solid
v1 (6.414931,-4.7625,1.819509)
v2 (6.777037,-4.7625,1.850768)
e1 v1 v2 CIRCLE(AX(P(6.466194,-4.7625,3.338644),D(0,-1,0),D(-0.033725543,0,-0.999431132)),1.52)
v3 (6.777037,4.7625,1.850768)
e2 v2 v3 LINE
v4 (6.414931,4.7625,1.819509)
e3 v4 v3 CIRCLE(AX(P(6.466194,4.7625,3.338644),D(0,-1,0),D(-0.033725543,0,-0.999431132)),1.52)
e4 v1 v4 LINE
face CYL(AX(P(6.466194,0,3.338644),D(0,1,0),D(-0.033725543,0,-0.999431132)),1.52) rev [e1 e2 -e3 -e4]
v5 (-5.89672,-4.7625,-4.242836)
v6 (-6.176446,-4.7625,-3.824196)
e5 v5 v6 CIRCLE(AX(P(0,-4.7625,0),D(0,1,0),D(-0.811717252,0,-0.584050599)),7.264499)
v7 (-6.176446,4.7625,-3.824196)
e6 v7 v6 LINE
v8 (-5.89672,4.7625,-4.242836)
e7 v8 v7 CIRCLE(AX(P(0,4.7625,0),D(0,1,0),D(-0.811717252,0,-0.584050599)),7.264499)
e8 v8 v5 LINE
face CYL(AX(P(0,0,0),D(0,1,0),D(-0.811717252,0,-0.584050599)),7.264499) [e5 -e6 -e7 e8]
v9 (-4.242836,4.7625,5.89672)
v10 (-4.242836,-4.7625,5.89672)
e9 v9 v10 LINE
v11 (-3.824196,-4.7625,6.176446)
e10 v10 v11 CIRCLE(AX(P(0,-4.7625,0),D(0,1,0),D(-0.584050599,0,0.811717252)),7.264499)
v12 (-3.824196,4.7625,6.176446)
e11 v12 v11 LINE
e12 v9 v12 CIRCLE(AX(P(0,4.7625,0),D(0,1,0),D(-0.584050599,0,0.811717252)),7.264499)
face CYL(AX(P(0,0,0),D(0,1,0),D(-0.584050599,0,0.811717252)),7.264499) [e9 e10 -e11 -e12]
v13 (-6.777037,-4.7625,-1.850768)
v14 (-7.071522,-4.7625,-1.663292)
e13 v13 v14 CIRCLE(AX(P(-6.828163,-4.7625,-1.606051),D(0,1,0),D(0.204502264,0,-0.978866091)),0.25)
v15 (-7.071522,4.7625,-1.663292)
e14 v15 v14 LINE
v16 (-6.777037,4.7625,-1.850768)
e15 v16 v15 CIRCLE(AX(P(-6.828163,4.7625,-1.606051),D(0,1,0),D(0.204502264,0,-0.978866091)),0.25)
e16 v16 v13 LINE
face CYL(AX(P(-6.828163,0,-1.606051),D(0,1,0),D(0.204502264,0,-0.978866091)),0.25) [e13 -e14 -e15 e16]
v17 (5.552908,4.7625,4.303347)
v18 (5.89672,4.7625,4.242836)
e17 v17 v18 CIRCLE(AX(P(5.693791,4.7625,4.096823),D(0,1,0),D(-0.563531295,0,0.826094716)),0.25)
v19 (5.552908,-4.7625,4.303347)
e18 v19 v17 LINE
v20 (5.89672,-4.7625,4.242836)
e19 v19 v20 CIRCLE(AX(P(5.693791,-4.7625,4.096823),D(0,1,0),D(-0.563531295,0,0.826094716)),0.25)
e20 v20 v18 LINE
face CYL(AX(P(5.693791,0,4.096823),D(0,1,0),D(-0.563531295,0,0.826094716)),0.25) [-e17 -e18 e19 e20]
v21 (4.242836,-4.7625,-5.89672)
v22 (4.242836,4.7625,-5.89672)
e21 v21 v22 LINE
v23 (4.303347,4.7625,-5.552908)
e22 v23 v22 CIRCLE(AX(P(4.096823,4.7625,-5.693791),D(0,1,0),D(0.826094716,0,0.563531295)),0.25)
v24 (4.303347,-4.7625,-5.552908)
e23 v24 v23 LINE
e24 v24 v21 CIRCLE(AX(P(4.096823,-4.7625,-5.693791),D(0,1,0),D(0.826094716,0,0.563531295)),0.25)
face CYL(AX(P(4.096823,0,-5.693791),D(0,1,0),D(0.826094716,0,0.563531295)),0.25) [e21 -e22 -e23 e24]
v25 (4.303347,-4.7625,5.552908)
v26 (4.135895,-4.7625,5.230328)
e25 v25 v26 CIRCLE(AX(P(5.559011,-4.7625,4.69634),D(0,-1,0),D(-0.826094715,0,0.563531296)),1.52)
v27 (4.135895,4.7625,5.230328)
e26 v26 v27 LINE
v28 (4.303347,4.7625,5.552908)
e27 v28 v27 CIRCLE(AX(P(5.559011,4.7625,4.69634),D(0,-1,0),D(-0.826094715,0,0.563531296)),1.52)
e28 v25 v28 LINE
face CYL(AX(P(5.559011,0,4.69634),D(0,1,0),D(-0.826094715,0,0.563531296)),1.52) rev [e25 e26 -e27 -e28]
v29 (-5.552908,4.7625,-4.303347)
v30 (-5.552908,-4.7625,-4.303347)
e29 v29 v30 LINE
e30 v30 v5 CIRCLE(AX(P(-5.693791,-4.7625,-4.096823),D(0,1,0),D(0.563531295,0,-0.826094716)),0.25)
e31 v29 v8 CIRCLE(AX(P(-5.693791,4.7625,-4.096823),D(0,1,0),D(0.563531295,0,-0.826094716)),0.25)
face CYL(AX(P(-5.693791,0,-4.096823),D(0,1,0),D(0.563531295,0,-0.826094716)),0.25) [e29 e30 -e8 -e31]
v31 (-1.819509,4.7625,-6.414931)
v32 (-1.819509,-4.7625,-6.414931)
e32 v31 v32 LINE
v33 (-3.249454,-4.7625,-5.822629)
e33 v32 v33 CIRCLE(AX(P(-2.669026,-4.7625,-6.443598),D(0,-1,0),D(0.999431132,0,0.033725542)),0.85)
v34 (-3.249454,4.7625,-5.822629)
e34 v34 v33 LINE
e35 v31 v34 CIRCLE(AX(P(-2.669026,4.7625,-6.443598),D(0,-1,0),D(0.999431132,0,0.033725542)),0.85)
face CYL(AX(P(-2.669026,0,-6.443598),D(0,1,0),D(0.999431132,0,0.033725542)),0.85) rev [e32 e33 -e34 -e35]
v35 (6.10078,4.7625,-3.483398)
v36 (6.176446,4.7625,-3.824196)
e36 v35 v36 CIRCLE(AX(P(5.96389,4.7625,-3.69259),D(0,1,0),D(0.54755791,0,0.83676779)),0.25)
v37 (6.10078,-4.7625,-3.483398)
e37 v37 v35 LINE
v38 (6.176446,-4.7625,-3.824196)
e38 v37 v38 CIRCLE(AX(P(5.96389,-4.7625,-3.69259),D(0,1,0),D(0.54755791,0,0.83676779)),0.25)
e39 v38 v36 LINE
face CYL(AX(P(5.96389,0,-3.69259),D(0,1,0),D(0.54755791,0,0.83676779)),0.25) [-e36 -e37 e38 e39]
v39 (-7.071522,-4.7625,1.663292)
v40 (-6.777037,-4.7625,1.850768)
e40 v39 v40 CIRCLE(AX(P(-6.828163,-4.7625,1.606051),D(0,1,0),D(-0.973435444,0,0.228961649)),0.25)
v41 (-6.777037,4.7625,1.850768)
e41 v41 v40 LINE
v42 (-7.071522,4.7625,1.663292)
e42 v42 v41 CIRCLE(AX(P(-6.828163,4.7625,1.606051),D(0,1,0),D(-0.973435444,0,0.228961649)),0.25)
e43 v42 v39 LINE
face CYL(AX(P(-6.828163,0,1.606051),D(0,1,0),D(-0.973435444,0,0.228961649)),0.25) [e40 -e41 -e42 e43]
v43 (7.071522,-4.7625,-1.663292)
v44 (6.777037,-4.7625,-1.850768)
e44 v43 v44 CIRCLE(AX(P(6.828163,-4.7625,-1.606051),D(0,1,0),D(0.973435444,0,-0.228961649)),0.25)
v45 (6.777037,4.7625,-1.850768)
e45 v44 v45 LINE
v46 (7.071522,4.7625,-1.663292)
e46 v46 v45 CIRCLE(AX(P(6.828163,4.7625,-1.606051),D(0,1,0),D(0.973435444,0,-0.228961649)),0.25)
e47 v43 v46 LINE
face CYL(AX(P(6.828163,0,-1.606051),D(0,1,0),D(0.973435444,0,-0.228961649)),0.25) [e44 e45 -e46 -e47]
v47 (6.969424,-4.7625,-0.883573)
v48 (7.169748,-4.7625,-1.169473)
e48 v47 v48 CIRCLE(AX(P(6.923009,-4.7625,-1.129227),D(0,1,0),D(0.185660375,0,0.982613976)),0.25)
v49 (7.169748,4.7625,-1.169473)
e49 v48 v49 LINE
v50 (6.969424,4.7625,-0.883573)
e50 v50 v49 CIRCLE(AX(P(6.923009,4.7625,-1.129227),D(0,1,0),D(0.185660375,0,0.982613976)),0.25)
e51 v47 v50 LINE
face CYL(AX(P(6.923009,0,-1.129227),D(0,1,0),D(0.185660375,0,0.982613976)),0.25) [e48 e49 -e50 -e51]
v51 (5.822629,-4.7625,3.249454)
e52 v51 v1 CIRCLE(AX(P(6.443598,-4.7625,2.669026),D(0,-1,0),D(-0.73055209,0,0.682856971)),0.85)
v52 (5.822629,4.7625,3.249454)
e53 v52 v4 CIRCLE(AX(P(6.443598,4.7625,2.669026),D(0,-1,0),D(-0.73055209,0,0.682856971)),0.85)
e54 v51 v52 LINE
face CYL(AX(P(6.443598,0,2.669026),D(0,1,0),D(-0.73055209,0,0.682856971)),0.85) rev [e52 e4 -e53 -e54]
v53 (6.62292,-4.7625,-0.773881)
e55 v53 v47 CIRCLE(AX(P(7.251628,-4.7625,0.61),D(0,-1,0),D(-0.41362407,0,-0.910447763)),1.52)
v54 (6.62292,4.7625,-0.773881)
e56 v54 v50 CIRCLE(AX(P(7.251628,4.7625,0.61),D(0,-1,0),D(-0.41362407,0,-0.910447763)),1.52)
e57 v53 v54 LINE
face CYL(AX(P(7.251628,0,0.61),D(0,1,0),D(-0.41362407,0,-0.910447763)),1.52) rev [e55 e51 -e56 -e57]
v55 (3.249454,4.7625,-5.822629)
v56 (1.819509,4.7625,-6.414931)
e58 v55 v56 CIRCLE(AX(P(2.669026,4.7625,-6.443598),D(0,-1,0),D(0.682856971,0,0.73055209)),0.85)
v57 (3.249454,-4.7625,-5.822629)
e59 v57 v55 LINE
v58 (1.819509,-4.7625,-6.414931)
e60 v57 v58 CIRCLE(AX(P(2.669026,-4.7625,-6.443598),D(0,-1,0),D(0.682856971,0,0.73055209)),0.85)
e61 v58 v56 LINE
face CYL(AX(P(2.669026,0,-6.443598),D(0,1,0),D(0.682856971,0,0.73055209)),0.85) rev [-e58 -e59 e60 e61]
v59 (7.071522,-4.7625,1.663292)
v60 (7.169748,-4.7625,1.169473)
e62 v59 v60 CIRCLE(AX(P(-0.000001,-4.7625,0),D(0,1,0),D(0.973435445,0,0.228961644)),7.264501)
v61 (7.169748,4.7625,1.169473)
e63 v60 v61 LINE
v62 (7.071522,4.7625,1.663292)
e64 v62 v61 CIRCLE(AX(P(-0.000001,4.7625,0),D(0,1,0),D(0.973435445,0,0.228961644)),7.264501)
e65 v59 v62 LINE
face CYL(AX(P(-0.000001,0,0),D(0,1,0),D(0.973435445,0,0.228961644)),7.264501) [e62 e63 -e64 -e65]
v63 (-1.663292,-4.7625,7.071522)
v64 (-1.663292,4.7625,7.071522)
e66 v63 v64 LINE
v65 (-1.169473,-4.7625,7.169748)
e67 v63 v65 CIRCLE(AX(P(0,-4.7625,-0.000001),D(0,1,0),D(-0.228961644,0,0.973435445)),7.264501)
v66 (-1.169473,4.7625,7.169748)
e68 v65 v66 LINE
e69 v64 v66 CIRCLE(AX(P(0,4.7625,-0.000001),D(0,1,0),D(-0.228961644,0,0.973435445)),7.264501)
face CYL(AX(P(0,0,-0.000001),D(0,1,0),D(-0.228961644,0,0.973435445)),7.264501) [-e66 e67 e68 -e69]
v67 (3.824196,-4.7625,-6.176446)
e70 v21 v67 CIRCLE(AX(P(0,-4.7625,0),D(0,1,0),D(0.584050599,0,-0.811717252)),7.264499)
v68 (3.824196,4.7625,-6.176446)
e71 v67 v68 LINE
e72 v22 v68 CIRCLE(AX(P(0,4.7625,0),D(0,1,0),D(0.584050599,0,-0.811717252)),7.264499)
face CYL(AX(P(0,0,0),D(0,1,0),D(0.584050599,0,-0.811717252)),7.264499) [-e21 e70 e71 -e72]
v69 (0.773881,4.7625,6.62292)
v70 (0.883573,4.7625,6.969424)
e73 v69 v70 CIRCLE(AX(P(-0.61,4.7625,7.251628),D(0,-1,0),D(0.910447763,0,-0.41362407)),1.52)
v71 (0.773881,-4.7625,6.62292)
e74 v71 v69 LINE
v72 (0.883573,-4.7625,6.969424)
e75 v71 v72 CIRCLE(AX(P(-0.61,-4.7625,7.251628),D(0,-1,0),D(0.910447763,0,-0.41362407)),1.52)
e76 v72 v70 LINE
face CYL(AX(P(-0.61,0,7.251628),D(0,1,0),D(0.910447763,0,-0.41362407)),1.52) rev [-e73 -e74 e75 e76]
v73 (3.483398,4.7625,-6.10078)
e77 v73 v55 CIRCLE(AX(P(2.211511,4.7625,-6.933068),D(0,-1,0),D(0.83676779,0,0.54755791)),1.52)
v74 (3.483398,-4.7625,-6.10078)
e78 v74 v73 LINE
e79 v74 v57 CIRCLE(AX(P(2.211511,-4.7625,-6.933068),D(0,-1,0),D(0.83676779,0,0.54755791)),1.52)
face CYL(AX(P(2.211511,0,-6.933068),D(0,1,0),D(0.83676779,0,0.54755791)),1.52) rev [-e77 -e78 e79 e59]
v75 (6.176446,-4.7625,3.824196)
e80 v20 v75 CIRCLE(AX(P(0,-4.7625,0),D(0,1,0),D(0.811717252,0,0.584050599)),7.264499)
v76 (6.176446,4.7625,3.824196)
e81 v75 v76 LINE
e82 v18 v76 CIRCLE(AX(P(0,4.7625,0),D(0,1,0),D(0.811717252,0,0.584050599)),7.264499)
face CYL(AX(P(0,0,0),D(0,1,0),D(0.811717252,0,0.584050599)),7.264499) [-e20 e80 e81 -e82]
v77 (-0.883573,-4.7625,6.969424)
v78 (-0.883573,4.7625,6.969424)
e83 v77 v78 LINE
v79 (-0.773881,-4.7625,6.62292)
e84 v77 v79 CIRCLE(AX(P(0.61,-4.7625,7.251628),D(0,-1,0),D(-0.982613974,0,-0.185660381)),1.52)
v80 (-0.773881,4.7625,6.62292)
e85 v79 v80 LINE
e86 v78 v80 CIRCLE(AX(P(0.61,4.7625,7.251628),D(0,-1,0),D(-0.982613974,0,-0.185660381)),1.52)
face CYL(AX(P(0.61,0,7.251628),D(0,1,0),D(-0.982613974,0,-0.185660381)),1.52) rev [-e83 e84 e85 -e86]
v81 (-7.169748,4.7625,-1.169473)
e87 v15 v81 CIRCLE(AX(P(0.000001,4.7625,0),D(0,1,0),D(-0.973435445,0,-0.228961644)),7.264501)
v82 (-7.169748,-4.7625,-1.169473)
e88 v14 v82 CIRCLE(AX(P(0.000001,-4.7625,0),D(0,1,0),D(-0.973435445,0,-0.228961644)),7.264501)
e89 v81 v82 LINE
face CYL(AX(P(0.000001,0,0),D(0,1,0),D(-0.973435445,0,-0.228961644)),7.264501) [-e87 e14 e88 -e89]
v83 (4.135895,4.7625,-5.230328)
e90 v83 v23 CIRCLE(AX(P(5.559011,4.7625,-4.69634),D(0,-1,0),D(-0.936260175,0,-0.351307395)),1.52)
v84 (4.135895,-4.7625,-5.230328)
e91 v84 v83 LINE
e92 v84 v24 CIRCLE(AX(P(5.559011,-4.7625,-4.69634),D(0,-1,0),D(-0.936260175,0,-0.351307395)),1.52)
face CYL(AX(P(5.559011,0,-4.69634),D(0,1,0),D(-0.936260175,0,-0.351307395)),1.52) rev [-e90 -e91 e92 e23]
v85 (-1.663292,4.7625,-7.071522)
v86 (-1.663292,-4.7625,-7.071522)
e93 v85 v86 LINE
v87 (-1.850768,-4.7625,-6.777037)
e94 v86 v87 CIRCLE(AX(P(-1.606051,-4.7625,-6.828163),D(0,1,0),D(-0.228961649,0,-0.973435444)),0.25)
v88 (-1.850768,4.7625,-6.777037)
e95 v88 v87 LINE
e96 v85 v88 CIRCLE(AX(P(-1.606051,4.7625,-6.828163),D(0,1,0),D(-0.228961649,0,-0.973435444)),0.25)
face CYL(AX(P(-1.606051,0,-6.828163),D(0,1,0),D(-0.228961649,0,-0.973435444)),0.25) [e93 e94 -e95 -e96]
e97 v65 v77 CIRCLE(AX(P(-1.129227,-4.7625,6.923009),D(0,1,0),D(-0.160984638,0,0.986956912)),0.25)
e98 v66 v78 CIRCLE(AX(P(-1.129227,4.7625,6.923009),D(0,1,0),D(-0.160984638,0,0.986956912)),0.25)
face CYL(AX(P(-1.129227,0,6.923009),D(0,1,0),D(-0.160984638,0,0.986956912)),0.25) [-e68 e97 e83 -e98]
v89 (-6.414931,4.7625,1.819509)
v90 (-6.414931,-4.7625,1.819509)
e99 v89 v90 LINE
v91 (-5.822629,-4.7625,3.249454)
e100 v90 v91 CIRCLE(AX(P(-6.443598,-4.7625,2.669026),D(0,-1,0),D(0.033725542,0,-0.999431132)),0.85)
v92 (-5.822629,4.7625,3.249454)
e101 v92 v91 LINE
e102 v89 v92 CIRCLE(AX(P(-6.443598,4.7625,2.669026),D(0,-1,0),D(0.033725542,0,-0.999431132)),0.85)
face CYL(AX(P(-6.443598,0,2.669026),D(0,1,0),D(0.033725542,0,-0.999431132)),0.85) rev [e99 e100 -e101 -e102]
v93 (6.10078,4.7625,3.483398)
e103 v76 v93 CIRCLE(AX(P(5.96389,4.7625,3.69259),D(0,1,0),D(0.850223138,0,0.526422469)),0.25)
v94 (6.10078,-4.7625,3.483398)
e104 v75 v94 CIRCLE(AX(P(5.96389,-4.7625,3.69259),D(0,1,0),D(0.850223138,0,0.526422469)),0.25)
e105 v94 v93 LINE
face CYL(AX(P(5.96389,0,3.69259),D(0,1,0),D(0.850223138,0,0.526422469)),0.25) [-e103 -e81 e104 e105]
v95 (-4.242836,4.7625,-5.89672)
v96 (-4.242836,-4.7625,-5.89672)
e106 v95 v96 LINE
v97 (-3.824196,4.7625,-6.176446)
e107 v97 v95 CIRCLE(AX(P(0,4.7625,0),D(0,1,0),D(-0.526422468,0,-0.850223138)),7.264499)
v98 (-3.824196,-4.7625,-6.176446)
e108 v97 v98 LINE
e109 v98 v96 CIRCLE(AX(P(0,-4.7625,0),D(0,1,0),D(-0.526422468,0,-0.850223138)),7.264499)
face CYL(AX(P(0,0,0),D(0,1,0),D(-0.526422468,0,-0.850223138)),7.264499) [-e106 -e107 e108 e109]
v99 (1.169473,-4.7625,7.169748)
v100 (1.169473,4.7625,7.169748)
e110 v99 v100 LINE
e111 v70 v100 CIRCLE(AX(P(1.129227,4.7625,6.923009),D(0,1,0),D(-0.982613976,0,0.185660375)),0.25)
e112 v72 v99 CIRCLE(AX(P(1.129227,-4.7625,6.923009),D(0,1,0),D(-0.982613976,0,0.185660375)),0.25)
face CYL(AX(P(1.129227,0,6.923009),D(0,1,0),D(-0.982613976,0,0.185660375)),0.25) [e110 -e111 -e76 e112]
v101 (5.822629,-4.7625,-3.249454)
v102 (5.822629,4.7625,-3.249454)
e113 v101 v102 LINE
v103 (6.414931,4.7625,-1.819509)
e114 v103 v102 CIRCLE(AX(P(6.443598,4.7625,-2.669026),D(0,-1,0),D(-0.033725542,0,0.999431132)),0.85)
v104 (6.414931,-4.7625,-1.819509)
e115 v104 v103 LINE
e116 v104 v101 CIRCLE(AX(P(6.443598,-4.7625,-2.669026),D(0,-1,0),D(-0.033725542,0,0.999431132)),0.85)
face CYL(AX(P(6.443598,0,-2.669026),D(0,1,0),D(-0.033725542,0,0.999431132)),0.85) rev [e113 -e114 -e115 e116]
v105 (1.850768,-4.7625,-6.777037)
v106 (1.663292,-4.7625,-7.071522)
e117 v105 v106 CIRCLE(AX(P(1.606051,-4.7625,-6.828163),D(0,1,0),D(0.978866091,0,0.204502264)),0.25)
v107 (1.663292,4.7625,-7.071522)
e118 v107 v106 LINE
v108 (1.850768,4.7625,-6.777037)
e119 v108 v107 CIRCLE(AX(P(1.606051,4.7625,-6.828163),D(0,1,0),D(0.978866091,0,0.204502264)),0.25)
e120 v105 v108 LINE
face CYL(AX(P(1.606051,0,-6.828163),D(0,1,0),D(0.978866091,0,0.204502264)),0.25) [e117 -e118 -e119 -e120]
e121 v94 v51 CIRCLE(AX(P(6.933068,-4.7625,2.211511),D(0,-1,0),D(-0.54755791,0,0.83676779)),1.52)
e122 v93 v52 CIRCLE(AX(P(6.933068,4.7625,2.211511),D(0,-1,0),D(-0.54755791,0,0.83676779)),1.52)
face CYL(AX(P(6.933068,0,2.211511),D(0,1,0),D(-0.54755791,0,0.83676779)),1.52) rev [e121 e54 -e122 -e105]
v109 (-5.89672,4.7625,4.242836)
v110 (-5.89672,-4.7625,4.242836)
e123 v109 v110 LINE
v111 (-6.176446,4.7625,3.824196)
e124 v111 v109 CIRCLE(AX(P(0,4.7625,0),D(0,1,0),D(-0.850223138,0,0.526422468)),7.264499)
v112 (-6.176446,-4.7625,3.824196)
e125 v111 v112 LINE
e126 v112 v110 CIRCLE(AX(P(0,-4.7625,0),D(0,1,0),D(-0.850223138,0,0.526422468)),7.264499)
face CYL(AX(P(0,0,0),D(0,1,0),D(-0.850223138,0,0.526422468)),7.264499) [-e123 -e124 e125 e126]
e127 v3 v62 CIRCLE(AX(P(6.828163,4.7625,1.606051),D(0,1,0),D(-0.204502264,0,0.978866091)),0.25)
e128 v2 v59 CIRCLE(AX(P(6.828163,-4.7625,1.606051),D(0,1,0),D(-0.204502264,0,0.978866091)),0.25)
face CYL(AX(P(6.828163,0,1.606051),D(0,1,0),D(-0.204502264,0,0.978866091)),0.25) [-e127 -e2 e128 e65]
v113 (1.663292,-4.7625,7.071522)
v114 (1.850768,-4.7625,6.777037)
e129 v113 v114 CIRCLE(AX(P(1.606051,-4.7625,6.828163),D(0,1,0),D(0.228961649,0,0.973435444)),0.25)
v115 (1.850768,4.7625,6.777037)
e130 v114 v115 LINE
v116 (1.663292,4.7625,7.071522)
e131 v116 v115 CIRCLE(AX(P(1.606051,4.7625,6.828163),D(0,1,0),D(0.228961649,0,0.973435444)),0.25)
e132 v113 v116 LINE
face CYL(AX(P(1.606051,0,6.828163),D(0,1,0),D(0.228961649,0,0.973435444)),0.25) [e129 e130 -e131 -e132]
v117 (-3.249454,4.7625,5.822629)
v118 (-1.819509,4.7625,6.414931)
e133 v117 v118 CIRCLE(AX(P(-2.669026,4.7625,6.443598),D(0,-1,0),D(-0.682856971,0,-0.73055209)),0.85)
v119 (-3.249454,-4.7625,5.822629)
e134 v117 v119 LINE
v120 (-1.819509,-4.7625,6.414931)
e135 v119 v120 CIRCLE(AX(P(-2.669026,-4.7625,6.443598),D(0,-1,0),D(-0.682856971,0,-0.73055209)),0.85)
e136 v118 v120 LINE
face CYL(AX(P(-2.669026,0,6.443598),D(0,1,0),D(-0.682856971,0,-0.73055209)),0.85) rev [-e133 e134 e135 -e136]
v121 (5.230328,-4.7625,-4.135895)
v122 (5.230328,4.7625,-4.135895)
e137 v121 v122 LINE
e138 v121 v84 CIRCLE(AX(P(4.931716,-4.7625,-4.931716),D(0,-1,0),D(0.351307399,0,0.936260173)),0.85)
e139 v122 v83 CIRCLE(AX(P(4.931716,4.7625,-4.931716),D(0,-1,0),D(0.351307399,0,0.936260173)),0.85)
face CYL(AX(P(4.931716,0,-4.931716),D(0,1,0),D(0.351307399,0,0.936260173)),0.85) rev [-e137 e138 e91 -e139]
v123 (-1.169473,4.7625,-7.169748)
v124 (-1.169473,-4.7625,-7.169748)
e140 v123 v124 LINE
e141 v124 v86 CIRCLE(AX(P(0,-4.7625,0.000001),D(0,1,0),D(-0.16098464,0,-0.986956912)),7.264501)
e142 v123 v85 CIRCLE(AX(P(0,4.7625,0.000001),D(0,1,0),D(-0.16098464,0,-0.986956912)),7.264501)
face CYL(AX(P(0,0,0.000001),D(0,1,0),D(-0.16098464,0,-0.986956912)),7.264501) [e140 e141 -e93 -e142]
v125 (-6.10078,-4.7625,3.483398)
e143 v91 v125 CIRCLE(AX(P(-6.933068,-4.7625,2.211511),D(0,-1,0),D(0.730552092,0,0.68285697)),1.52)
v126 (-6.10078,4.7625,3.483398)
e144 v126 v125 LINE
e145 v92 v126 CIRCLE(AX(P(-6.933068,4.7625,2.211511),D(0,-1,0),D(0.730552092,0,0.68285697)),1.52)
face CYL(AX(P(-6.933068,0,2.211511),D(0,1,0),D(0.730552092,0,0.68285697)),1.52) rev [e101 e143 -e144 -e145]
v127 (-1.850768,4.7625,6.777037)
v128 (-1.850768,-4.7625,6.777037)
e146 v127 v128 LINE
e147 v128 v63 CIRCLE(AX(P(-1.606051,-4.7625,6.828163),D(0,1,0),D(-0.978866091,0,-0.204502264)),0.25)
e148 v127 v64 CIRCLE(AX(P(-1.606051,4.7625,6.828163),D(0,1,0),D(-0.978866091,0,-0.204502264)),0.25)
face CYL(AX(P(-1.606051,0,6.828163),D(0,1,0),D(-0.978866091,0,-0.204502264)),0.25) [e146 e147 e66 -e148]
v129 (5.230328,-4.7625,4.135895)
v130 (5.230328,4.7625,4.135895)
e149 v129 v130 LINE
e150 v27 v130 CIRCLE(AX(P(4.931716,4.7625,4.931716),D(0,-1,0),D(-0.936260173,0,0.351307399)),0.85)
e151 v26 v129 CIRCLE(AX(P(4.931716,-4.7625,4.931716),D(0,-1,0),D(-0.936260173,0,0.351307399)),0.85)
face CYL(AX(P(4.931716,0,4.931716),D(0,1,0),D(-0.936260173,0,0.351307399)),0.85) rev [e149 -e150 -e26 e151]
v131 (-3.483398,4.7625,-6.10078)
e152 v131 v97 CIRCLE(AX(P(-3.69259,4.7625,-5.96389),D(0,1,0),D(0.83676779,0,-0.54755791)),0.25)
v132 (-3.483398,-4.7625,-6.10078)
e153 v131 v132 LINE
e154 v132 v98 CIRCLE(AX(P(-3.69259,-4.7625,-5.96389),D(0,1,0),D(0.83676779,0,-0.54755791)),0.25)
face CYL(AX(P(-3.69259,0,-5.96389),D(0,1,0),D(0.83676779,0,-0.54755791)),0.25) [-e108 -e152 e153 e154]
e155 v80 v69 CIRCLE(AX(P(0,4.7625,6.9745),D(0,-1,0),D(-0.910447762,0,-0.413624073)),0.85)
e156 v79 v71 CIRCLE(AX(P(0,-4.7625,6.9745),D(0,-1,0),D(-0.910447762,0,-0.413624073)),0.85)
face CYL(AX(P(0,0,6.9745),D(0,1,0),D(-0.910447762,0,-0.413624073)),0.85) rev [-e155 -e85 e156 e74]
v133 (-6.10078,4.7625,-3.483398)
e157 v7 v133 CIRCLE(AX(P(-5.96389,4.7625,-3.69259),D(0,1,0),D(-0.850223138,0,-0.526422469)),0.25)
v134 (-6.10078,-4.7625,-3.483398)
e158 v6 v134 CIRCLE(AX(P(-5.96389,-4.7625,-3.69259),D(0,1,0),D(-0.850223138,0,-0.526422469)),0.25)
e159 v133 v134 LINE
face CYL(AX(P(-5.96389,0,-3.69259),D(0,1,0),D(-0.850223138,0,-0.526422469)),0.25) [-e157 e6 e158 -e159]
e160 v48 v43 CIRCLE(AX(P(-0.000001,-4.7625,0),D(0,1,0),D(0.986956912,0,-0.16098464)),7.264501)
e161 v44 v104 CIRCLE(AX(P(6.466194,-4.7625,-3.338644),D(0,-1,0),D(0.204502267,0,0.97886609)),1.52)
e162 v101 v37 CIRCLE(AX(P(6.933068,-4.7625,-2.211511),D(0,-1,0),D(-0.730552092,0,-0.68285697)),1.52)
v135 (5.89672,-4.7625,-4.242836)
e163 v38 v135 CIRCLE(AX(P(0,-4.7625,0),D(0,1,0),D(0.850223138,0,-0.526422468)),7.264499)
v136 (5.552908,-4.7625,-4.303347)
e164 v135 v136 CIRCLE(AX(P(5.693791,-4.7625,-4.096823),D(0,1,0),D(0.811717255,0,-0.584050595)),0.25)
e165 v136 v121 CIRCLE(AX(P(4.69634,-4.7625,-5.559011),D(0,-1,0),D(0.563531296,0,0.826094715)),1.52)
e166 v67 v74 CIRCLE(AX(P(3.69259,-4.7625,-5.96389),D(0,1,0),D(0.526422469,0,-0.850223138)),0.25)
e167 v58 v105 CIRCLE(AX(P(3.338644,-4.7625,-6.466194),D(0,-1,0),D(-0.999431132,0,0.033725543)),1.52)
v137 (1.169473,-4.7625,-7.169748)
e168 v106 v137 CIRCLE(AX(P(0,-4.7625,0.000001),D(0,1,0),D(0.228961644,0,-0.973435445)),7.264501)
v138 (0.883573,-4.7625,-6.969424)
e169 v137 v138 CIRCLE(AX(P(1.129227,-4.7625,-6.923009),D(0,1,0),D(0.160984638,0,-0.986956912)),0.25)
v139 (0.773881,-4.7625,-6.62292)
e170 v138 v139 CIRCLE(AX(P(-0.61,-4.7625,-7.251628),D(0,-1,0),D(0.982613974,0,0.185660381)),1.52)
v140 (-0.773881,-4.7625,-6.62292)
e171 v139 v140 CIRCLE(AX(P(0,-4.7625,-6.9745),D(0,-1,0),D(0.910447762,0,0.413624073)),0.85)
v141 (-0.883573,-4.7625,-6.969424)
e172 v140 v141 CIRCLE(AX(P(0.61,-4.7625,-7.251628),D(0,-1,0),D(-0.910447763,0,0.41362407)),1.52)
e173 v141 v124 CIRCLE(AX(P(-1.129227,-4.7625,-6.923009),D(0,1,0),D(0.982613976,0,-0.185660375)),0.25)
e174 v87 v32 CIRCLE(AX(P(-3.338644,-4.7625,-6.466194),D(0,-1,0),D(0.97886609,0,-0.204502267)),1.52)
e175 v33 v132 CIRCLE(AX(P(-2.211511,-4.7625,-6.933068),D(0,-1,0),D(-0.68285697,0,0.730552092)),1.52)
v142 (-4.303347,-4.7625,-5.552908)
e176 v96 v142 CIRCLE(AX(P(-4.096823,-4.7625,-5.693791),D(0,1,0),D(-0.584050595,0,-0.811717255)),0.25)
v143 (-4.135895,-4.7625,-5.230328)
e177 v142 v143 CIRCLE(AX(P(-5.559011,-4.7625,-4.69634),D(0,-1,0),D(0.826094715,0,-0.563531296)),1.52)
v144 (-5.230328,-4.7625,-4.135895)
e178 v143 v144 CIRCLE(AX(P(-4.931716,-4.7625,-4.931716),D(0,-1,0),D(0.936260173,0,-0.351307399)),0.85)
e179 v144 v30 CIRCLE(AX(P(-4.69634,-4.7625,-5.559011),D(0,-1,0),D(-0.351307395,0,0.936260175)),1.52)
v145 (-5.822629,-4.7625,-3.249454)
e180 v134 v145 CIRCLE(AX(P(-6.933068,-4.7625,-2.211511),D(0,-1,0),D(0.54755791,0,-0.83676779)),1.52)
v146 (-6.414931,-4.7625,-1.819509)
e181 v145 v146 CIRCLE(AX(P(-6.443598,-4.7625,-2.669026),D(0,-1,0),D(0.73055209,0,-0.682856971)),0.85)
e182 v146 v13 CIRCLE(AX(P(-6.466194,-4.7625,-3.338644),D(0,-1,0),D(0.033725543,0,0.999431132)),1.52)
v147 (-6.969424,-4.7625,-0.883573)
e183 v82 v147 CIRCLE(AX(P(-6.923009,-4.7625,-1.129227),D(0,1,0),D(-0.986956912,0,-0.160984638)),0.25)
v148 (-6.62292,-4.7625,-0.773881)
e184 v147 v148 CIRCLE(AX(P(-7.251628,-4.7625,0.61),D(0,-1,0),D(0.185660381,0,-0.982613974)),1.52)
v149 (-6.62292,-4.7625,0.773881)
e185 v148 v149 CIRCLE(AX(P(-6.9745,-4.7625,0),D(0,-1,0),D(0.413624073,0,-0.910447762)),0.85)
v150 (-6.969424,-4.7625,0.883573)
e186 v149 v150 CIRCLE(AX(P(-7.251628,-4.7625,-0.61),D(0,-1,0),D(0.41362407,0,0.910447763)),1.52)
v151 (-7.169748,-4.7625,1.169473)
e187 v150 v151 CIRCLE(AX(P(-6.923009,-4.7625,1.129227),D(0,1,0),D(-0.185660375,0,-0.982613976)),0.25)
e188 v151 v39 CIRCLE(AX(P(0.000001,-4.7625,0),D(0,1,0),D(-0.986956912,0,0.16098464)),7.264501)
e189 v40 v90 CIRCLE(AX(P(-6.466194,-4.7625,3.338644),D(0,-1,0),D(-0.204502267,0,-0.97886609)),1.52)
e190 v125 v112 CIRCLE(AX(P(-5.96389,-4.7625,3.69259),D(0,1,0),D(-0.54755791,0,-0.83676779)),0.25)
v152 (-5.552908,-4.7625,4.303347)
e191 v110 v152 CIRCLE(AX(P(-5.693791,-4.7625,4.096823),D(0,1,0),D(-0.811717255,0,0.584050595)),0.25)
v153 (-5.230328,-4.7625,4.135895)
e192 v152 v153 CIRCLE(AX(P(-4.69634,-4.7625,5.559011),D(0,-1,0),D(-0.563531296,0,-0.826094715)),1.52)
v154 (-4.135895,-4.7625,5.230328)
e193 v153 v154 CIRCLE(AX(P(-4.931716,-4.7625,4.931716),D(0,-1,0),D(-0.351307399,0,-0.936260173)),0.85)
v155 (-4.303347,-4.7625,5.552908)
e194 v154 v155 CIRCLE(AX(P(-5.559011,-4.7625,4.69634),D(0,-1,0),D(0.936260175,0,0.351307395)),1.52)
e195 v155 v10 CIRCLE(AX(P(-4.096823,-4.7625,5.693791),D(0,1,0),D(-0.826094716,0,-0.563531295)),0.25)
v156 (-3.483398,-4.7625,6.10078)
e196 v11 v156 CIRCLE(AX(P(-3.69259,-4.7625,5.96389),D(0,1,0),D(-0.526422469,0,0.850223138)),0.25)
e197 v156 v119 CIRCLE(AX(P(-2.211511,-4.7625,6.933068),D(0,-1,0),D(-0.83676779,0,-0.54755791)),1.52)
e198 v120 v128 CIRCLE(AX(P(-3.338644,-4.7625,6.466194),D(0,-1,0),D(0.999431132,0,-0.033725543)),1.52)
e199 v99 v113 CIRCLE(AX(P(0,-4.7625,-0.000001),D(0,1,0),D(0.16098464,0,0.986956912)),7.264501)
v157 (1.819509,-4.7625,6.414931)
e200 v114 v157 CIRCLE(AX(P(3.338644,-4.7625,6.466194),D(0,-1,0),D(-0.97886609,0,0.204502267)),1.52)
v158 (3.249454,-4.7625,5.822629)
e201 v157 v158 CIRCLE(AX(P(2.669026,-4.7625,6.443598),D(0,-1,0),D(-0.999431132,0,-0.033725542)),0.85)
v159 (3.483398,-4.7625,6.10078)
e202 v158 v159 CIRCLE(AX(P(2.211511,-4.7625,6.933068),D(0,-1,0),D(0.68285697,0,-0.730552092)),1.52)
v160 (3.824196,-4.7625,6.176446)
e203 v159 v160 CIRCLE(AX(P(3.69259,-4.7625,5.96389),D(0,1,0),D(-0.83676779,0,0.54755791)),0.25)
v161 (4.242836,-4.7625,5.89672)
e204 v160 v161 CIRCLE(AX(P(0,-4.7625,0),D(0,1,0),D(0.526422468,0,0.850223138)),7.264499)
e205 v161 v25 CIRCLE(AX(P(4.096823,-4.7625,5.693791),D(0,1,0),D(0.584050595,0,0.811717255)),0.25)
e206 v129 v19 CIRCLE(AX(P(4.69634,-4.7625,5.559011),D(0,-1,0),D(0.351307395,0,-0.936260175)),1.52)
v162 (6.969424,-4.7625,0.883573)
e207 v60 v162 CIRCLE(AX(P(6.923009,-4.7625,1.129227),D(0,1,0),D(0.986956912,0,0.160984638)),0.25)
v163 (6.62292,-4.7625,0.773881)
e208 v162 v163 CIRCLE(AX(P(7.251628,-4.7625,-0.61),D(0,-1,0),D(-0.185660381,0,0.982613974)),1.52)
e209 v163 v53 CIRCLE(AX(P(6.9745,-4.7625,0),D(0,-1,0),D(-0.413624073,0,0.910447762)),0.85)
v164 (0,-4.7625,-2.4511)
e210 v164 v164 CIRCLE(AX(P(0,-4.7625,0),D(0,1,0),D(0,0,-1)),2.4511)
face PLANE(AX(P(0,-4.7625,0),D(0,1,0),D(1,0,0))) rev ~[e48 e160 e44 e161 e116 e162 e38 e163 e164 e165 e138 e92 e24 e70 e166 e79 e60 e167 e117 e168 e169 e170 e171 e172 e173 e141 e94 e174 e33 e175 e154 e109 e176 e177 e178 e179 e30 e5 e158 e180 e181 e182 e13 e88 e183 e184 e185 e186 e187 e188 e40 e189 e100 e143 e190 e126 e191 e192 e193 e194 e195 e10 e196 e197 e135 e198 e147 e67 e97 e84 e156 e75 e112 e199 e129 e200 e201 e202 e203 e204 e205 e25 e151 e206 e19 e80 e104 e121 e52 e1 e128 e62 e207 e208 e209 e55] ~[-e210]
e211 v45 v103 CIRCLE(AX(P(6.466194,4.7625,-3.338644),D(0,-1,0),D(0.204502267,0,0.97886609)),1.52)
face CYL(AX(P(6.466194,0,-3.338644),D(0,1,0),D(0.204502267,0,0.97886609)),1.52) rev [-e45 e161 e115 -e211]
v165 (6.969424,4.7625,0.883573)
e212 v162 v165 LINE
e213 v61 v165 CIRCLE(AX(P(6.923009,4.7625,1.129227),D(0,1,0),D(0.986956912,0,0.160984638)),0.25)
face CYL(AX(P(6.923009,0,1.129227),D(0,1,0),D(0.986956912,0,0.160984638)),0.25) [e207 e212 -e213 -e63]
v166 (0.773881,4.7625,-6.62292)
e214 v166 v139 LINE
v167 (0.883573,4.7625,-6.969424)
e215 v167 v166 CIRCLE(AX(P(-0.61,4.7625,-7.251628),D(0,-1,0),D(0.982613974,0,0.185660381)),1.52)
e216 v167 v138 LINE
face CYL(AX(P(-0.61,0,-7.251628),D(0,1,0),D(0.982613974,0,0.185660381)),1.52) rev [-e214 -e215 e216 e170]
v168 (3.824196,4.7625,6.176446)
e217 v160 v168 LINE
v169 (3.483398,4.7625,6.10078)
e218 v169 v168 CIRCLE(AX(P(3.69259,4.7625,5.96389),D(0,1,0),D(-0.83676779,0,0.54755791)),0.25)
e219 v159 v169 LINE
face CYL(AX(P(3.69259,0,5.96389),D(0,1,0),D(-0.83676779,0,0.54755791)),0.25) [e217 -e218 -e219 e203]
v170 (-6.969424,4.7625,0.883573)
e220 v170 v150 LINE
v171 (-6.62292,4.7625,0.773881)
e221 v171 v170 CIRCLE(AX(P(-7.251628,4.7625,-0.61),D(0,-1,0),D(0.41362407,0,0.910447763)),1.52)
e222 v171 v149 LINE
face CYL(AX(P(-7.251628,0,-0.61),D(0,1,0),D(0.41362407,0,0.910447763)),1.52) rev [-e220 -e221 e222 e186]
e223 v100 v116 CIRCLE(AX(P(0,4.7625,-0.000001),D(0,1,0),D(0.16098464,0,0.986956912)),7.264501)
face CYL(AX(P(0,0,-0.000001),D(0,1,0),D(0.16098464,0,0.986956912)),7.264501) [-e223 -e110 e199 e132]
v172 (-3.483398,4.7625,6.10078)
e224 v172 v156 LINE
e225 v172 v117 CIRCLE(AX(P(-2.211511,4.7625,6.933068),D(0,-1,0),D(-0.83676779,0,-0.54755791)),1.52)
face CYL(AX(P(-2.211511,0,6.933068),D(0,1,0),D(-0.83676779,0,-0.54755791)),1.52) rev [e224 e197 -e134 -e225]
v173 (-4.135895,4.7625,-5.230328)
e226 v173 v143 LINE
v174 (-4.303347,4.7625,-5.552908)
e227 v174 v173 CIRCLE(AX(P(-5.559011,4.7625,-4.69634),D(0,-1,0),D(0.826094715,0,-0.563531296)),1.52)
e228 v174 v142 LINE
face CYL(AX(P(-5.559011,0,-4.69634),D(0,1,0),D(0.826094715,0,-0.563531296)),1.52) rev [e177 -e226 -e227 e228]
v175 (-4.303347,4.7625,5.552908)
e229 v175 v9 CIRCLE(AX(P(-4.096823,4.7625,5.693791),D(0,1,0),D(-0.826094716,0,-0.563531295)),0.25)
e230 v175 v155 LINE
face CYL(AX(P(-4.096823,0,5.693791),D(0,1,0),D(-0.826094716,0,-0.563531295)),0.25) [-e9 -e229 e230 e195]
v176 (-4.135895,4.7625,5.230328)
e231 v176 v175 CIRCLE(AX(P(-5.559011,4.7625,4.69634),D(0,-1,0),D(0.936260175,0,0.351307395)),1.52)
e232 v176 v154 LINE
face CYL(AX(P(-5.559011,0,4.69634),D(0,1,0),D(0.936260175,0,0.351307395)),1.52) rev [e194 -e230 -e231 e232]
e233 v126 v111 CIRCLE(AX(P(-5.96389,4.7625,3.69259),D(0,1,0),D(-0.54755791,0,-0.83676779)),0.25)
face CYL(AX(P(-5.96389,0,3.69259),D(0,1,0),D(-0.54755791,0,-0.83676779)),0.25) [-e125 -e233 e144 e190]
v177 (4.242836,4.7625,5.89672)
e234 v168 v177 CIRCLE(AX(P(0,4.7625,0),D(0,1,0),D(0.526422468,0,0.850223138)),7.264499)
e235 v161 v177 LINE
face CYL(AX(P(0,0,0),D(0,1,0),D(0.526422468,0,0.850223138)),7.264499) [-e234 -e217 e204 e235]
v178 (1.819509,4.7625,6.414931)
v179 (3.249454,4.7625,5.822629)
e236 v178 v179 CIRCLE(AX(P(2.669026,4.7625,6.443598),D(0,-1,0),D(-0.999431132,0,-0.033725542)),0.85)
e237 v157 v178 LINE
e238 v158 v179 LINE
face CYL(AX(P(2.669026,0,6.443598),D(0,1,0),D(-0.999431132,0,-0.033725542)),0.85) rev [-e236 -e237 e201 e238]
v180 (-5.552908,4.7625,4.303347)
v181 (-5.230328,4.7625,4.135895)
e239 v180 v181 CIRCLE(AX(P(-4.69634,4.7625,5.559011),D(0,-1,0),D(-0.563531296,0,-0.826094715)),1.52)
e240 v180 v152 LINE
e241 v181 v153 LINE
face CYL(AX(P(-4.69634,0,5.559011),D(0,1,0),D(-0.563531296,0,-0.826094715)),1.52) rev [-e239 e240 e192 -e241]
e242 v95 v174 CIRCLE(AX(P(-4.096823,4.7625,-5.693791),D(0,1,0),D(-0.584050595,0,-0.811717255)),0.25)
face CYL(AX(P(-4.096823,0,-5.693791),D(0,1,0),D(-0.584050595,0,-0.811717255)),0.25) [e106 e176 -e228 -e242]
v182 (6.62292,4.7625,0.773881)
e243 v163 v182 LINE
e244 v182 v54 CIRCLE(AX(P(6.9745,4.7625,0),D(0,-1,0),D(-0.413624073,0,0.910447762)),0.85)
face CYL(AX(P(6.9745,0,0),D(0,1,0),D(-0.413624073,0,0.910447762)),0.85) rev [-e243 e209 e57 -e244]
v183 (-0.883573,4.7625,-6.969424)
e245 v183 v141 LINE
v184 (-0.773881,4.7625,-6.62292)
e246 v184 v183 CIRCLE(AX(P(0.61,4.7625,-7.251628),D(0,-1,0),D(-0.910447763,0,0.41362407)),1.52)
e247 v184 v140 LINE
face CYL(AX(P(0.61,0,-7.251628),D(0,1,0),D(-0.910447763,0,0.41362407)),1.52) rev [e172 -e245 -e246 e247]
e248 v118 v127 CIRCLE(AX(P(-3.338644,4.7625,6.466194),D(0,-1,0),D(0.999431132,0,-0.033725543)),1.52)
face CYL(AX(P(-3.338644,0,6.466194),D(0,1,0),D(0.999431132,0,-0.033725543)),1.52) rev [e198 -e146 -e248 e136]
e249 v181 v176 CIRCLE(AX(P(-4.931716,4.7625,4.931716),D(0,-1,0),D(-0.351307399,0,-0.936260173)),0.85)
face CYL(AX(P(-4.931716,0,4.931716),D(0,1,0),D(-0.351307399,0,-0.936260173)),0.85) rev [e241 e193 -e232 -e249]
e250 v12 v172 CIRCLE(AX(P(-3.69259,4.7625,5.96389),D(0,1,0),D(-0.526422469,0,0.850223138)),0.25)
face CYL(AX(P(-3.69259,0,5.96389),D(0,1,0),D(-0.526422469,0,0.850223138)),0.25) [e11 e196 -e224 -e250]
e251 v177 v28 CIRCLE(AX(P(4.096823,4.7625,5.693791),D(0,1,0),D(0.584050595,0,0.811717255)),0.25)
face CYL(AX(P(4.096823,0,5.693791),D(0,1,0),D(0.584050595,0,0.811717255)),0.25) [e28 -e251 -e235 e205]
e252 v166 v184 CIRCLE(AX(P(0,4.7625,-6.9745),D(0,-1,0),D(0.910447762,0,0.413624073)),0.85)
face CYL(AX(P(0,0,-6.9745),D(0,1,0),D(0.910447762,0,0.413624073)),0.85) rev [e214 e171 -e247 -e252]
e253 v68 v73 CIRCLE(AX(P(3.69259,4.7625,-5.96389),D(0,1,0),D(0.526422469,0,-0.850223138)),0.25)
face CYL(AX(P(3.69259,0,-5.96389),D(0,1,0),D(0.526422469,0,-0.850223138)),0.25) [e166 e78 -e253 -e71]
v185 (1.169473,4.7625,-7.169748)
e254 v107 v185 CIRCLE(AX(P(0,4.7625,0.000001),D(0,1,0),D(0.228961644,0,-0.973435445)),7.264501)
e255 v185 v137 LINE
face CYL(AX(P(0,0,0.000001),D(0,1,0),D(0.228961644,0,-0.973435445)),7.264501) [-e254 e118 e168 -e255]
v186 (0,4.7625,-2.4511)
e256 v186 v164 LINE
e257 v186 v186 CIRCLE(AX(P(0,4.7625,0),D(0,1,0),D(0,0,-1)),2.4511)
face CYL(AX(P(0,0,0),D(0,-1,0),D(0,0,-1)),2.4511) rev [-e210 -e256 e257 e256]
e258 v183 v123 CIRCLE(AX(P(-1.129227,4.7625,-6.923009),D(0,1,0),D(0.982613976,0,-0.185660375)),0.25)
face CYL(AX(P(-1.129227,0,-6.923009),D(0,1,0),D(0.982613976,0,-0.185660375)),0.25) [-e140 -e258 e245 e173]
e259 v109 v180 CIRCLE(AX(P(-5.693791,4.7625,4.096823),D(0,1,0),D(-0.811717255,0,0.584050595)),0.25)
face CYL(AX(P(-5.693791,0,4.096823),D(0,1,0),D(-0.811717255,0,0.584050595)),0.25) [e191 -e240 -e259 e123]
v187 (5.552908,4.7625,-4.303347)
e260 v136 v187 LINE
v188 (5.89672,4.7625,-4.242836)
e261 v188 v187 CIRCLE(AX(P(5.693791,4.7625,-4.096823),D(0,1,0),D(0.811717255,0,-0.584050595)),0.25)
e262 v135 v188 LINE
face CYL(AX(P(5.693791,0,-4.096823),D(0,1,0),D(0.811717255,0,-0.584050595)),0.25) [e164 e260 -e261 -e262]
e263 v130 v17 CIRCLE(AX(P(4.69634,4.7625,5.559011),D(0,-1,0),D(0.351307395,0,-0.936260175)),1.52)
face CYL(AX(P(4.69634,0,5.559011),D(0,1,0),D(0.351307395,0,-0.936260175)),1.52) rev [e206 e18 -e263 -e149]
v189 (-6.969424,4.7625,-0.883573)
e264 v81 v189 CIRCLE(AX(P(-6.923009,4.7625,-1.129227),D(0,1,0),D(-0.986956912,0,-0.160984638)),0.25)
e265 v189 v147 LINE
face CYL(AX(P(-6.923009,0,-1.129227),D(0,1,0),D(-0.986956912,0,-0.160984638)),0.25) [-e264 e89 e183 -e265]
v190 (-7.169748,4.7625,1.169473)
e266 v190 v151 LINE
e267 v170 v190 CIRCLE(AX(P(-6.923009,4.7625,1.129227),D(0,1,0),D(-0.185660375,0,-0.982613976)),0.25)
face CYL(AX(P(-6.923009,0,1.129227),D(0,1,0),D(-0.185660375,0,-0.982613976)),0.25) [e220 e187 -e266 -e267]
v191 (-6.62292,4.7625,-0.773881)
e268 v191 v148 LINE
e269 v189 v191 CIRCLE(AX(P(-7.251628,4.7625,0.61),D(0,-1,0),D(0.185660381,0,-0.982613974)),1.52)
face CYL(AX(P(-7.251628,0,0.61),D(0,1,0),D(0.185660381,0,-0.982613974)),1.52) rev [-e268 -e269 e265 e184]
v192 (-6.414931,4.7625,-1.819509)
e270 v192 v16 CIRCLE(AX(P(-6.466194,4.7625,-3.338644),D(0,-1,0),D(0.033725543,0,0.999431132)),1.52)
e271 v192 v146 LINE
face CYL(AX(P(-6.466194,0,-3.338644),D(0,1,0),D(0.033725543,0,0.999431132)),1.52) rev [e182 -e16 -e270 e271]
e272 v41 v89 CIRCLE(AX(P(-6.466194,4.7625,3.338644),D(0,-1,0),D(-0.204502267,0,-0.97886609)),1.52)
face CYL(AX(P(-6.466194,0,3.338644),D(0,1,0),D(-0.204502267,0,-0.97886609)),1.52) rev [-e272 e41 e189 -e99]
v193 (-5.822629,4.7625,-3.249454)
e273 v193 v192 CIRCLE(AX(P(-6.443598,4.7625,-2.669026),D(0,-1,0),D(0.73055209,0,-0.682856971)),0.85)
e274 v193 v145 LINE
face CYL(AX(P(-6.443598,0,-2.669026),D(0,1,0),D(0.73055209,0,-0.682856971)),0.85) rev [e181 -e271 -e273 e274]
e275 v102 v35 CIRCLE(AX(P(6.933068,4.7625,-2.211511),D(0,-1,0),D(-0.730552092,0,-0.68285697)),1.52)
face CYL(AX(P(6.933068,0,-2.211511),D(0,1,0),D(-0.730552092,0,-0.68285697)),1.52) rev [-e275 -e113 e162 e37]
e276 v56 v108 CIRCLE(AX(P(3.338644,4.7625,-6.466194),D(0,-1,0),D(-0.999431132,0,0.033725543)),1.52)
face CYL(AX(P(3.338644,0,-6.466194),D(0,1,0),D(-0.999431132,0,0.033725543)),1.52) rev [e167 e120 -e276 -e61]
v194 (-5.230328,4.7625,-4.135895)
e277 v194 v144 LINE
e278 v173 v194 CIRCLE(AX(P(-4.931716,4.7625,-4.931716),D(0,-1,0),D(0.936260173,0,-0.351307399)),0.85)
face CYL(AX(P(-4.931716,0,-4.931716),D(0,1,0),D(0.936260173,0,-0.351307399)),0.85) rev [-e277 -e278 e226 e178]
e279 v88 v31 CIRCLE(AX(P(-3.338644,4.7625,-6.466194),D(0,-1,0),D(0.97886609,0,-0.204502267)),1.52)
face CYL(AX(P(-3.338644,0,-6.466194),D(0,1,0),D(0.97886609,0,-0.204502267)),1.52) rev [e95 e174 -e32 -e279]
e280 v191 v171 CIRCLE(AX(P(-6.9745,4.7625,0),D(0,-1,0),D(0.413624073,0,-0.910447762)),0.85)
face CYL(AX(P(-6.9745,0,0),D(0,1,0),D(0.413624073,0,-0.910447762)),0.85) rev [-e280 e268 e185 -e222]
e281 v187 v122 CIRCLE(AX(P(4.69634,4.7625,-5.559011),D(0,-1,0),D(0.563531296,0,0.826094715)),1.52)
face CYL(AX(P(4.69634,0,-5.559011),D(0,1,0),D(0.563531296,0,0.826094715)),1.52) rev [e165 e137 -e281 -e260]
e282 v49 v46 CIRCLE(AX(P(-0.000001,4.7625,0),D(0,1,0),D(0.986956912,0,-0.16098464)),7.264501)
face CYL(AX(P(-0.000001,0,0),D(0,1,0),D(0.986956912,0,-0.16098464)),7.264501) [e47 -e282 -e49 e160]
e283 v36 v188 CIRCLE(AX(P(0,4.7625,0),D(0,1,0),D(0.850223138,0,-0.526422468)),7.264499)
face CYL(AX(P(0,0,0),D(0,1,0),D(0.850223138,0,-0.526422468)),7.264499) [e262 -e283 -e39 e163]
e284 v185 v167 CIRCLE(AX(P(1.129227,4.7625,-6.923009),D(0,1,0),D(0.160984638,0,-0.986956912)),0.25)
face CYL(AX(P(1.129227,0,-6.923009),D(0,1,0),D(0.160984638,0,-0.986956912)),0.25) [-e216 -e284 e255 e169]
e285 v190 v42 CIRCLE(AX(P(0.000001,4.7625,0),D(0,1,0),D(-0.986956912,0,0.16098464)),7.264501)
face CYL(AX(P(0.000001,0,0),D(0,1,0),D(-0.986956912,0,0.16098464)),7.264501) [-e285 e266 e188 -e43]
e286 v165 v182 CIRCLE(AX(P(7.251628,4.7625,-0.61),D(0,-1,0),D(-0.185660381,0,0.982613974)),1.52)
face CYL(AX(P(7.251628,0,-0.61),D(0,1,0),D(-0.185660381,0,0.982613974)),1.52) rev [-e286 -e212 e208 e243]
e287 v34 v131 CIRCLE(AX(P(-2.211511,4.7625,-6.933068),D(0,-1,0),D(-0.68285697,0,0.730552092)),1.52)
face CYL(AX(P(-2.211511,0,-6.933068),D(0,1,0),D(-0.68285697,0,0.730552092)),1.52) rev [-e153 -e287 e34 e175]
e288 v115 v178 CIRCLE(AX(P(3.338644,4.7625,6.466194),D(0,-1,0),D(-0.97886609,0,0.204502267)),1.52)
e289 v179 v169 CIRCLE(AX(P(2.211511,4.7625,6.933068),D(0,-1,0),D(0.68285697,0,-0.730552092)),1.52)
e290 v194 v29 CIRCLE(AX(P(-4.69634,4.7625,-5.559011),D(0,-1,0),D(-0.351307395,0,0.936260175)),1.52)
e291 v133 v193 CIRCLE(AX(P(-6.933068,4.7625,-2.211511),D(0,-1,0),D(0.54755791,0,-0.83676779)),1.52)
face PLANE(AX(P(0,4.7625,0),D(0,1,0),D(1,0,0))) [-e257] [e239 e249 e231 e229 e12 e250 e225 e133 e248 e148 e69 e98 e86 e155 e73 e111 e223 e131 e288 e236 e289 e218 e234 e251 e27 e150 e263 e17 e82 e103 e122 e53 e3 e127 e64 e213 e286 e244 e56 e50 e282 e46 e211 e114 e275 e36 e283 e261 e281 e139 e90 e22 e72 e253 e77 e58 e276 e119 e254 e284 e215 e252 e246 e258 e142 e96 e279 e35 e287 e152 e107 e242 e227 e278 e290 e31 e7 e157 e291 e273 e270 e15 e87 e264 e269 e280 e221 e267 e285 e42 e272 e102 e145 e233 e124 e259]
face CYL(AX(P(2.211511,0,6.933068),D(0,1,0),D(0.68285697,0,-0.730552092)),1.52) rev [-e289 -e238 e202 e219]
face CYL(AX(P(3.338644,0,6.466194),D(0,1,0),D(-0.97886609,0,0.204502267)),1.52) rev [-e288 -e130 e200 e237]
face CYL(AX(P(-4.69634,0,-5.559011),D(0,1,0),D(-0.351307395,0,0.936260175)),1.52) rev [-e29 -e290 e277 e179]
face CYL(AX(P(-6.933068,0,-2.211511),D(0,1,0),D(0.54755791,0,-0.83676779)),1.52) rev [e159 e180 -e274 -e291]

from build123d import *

# Parameters (mm, degrees)
SKETCH1_R           = 2.4511
BOSS_EXTRUDE1_DEPTH = 4.7625


with BuildPart() as part:
    # Sketch1 → Boss-Extrude1 (new, symmetric)
    with BuildSketch(Plane(origin=(0, 0, 0), x_dir=(1, 0, 0), z_dir=(0, 1, 0))):
        with BuildLine():
            ThreePointArc((-1.850768, -6.777037356), (-1.816941892, -6.962421006), (-1.663291889, -7.071521784))
            ThreePointArc((-1.663291889, -7.071521784), (-1.417233644, -7.124914669), (-1.169472895, -7.169748489))
            ThreePointArc((-1.169472895, -7.169748489), (-0.985767742, -7.127751824), (-0.883573242, -6.969424355))
            ThreePointArc((-0.883573242, -6.969424355), (-0.839120956, -6.792881518), (-0.773880597, -6.622919538))
            ThreePointArc((-0.773880597, -6.622919538), (0, -6.1245), (0.773880597, -6.622919538))
            ThreePointArc((0.773880597, -6.622919538), (0.839120956, -6.792881518), (0.883573242, -6.969424355))
            ThreePointArc((0.883573242, -6.969424355), (0.985767742, -7.127751824), (1.169472895, -7.169748489))
            ThreePointArc((1.169472895, -7.169748489), (1.417233644, -7.124914669), (1.663291889, -7.071521784))
            ThreePointArc((1.663291889, -7.071521784), (1.816941892, -6.962421006), (1.850768, -6.777037356))
            ThreePointArc((1.850768, -6.777037356), (1.824276538, -6.596921889), (1.819509137, -6.414931089))
            ThreePointArc((1.819509137, -6.414931089), (2.343744682, -5.658300197), (3.249454025, -5.822628523))
            ThreePointArc((3.249454025, -5.822628523), (3.374769892, -5.954686513), (3.483398468, -6.100779674))
            ThreePointArc((3.483398468, -6.100779674), (3.638403174, -6.20794704), (3.824196033, -6.176445981))
            ThreePointArc((3.824196033, -6.176445981), (4.035939958, -6.040210999), (4.242835561, -5.896719991))
            ThreePointArc((4.242835561, -5.896719991), (4.343038594, -5.737124705), (4.303346591, -5.552907854))
            ThreePointArc((4.303346591, -5.552907854), (4.209944466, -5.396640704), (4.135895098, -5.230327534))
            ThreePointArc((4.135895098, -5.230327534), (4.330675481, -4.330675481), (5.230327534, -4.135895098))
            ThreePointArc((5.230327534, -4.135895098), (5.396640704, -4.209944466), (5.552907854, -4.303346591))
            ThreePointArc((5.552907854, -4.303346591), (5.737124705, -4.343038594), (5.896719991, -4.242835561))
            ThreePointArc((5.896719991, -4.242835561), (6.040210999, -4.035939958), (6.176445981, -3.824196033))
            ThreePointArc((6.176445981, -3.824196033), (6.20794704, -3.638403174), (6.100779674, -3.483398468))
            ThreePointArc((6.100779674, -3.483398468), (5.954686513, -3.374769892), (5.822628523, -3.249454025))
            ThreePointArc((5.822628523, -3.249454025), (5.658300197, -2.343744682), (6.414931089, -1.819509137))
            ThreePointArc((6.414931089, -1.819509137), (6.596921889, -1.824276538), (6.777037356, -1.850768))
            ThreePointArc((6.777037356, -1.850768), (6.962421006, -1.816941892), (7.071521784, -1.663291889))
            ThreePointArc((7.071521784, -1.663291889), (7.124914669, -1.417233644), (7.169748489, -1.169472895))
            ThreePointArc((7.169748489, -1.169472895), (7.127751824, -0.985767742), (6.969424355, -0.883573242))
            ThreePointArc((6.969424355, -0.883573242), (6.792881518, -0.839120956), (6.622919538, -0.773880597))
            ThreePointArc((6.622919538, -0.773880597), (6.1245, 0), (6.622919538, 0.773880597))
            ThreePointArc((6.622919538, 0.773880597), (6.792881518, 0.839120956), (6.969424355, 0.883573242))
            ThreePointArc((6.969424355, 0.883573242), (7.127751824, 0.985767742), (7.169748489, 1.169472895))
            ThreePointArc((7.169748489, 1.169472895), (7.124914669, 1.417233644), (7.071521784, 1.663291889))
            ThreePointArc((7.071521784, 1.663291889), (6.962421006, 1.816941892), (6.777037356, 1.850768))
            ThreePointArc((6.777037356, 1.850768), (6.596921889, 1.824276538), (6.414931089, 1.819509137))
            ThreePointArc((6.414931089, 1.819509137), (5.658300197, 2.343744682), (5.822628523, 3.249454025))
            ThreePointArc((5.822628523, 3.249454025), (5.954686513, 3.374769892), (6.100779674, 3.483398468))
            ThreePointArc((6.100779674, 3.483398468), (6.20794704, 3.638403174), (6.176445981, 3.824196033))
            ThreePointArc((6.176445981, 3.824196033), (6.040210999, 4.035939958), (5.896719991, 4.242835561))
            ThreePointArc((5.896719991, 4.242835561), (5.737124705, 4.343038594), (5.552907854, 4.303346591))
            ThreePointArc((5.552907854, 4.303346591), (5.396640704, 4.209944466), (5.230327534, 4.135895098))
            ThreePointArc((5.230327534, 4.135895098), (4.330675481, 4.330675481), (4.135895098, 5.230327534))
            ThreePointArc((4.135895098, 5.230327534), (4.209944466, 5.396640704), (4.303346591, 5.552907854))
            ThreePointArc((4.303346591, 5.552907854), (4.343038594, 5.737124705), (4.242835561, 5.896719991))
            ThreePointArc((4.242835561, 5.896719991), (4.035939958, 6.040210999), (3.824196033, 6.176445981))
            ThreePointArc((3.824196033, 6.176445981), (3.638403174, 6.20794704), (3.483398468, 6.100779674))
            ThreePointArc((3.483398468, 6.100779674), (3.374769892, 5.954686513), (3.249454025, 5.822628523))
            ThreePointArc((3.249454025, 5.822628523), (2.343744682, 5.658300197), (1.819509137, 6.414931089))
            ThreePointArc((1.819509137, 6.414931089), (1.824276538, 6.596921889), (1.850768, 6.777037356))
            ThreePointArc((1.850768, 6.777037356), (1.816941892, 6.962421006), (1.663291889, 7.071521784))
            ThreePointArc((1.663291889, 7.071521784), (1.417233644, 7.124914669), (1.169472895, 7.169748489))
            ThreePointArc((1.169472895, 7.169748489), (0.985767742, 7.127751824), (0.883573242, 6.969424355))
            ThreePointArc((0.883573242, 6.969424355), (0.839120956, 6.792881518), (0.773880597, 6.622919538))
            ThreePointArc((0.773880597, 6.622919538), (0, 6.1245), (-0.773880597, 6.622919538))
            ThreePointArc((-0.773880597, 6.622919538), (-0.839120956, 6.792881518), (-0.883573242, 6.969424355))
            ThreePointArc((-0.883573242, 6.969424355), (-0.985767742, 7.127751824), (-1.169472895, 7.169748489))
            ThreePointArc((-1.169472895, 7.169748489), (-1.417233644, 7.124914669), (-1.663291889, 7.071521784))
            ThreePointArc((-1.663291889, 7.071521784), (-1.816941892, 6.962421006), (-1.850768, 6.777037356))
            ThreePointArc((-1.850768, 6.777037356), (-1.824276538, 6.596921889), (-1.819509137, 6.414931089))
            ThreePointArc((-1.819509137, 6.414931089), (-2.343744682, 5.658300197), (-3.249454025, 5.822628523))
            ThreePointArc((-3.249454025, 5.822628523), (-3.374769892, 5.954686513), (-3.483398468, 6.100779674))
            ThreePointArc((-3.483398468, 6.100779674), (-3.638403174, 6.20794704), (-3.824196033, 6.176445981))
            ThreePointArc((-3.824196033, 6.176445981), (-4.035939958, 6.040210999), (-4.242835561, 5.896719991))
            ThreePointArc((-4.242835561, 5.896719991), (-4.343038594, 5.737124705), (-4.303346591, 5.552907854))
            ThreePointArc((-4.303346591, 5.552907854), (-4.209944466, 5.396640704), (-4.135895098, 5.230327534))
            ThreePointArc((-4.135895098, 5.230327534), (-4.330675481, 4.330675481), (-5.230327534, 4.135895098))
            ThreePointArc((-5.230327534, 4.135895098), (-5.396640704, 4.209944466), (-5.552907854, 4.303346591))
            ThreePointArc((-5.552907854, 4.303346591), (-5.737124705, 4.343038594), (-5.896719991, 4.242835561))
            ThreePointArc((-5.896719991, 4.242835561), (-6.040210999, 4.035939958), (-6.176445981, 3.824196033))
            ThreePointArc((-6.176445981, 3.824196033), (-6.20794704, 3.638403174), (-6.100779674, 3.483398468))
            ThreePointArc((-6.100779674, 3.483398468), (-5.954686513, 3.374769892), (-5.822628523, 3.249454025))
            ThreePointArc((-5.822628523, 3.249454025), (-5.658300197, 2.343744682), (-6.414931089, 1.819509137))
            ThreePointArc((-6.414931089, 1.819509137), (-6.596921889, 1.824276538), (-6.777037356, 1.850768))
            ThreePointArc((-6.777037356, 1.850768), (-6.962421006, 1.816941892), (-7.071521784, 1.663291889))
            ThreePointArc((-7.071521784, 1.663291889), (-7.124914669, 1.417233644), (-7.169748489, 1.169472895))
            ThreePointArc((-7.169748489, 1.169472895), (-7.127751824, 0.985767742), (-6.969424355, 0.883573242))
            ThreePointArc((-6.969424355, 0.883573242), (-6.792881518, 0.839120956), (-6.622919538, 0.773880597))
            ThreePointArc((-6.622919538, 0.773880597), (-6.1245, 0), (-6.622919538, -0.773880597))
            ThreePointArc((-6.622919538, -0.773880597), (-6.792881518, -0.839120956), (-6.969424355, -0.883573242))
            ThreePointArc((-6.969424355, -0.883573242), (-7.127751824, -0.985767742), (-7.169748489, -1.169472895))
            ThreePointArc((-7.169748489, -1.169472895), (-7.124914669, -1.417233644), (-7.071521784, -1.663291889))
            ThreePointArc((-7.071521784, -1.663291889), (-6.962421006, -1.816941892), (-6.777037356, -1.850768))
            ThreePointArc((-6.777037356, -1.850768), (-6.596921889, -1.824276538), (-6.414931089, -1.819509137))
            ThreePointArc((-6.414931089, -1.819509137), (-5.658300197, -2.343744682), (-5.822628523, -3.249454025))
            ThreePointArc((-5.822628523, -3.249454025), (-5.954686513, -3.374769892), (-6.100779674, -3.483398468))
            ThreePointArc((-6.100779674, -3.483398468), (-6.20794704, -3.638403174), (-6.176445981, -3.824196033))
            ThreePointArc((-6.176445981, -3.824196033), (-6.040210999, -4.035939958), (-5.896719991, -4.242835561))
            ThreePointArc((-5.896719991, -4.242835561), (-5.737124705, -4.343038594), (-5.552907854, -4.303346591))
            ThreePointArc((-5.552907854, -4.303346591), (-5.396640704, -4.209944466), (-5.230327534, -4.135895098))
            ThreePointArc((-5.230327534, -4.135895098), (-4.330675481, -4.330675481), (-4.135895098, -5.230327534))
            ThreePointArc((-4.135895098, -5.230327534), (-4.209944466, -5.396640704), (-4.303346591, -5.552907854))
            ThreePointArc((-4.303346591, -5.552907854), (-4.343038594, -5.737124705), (-4.242835561, -5.896719991))
            ThreePointArc((-4.242835561, -5.896719991), (-4.035939958, -6.040210999), (-3.824196033, -6.176445981))
            ThreePointArc((-3.824196033, -6.176445981), (-3.638403174, -6.20794704), (-3.483398468, -6.100779674))
            ThreePointArc((-3.483398468, -6.100779674), (-3.374769892, -5.954686513), (-3.249454025, -5.822628523))
            ThreePointArc((-3.249454025, -5.822628523), (-2.343744682, -5.658300197), (-1.819509137, -6.414931089))
            ThreePointArc((-1.819509137, -6.414931089), (-1.824276538, -6.596921889), (-1.850768, -6.777037356))
        make_face()
        with Locations(Location((0, 0, 0), (0, 0, 90))):
            Circle(SKETCH1_R, mode=Mode.SUBTRACT)
    extrude(amount=BOSS_EXTRUDE1_DEPTH, both=True)


solid = part.part
